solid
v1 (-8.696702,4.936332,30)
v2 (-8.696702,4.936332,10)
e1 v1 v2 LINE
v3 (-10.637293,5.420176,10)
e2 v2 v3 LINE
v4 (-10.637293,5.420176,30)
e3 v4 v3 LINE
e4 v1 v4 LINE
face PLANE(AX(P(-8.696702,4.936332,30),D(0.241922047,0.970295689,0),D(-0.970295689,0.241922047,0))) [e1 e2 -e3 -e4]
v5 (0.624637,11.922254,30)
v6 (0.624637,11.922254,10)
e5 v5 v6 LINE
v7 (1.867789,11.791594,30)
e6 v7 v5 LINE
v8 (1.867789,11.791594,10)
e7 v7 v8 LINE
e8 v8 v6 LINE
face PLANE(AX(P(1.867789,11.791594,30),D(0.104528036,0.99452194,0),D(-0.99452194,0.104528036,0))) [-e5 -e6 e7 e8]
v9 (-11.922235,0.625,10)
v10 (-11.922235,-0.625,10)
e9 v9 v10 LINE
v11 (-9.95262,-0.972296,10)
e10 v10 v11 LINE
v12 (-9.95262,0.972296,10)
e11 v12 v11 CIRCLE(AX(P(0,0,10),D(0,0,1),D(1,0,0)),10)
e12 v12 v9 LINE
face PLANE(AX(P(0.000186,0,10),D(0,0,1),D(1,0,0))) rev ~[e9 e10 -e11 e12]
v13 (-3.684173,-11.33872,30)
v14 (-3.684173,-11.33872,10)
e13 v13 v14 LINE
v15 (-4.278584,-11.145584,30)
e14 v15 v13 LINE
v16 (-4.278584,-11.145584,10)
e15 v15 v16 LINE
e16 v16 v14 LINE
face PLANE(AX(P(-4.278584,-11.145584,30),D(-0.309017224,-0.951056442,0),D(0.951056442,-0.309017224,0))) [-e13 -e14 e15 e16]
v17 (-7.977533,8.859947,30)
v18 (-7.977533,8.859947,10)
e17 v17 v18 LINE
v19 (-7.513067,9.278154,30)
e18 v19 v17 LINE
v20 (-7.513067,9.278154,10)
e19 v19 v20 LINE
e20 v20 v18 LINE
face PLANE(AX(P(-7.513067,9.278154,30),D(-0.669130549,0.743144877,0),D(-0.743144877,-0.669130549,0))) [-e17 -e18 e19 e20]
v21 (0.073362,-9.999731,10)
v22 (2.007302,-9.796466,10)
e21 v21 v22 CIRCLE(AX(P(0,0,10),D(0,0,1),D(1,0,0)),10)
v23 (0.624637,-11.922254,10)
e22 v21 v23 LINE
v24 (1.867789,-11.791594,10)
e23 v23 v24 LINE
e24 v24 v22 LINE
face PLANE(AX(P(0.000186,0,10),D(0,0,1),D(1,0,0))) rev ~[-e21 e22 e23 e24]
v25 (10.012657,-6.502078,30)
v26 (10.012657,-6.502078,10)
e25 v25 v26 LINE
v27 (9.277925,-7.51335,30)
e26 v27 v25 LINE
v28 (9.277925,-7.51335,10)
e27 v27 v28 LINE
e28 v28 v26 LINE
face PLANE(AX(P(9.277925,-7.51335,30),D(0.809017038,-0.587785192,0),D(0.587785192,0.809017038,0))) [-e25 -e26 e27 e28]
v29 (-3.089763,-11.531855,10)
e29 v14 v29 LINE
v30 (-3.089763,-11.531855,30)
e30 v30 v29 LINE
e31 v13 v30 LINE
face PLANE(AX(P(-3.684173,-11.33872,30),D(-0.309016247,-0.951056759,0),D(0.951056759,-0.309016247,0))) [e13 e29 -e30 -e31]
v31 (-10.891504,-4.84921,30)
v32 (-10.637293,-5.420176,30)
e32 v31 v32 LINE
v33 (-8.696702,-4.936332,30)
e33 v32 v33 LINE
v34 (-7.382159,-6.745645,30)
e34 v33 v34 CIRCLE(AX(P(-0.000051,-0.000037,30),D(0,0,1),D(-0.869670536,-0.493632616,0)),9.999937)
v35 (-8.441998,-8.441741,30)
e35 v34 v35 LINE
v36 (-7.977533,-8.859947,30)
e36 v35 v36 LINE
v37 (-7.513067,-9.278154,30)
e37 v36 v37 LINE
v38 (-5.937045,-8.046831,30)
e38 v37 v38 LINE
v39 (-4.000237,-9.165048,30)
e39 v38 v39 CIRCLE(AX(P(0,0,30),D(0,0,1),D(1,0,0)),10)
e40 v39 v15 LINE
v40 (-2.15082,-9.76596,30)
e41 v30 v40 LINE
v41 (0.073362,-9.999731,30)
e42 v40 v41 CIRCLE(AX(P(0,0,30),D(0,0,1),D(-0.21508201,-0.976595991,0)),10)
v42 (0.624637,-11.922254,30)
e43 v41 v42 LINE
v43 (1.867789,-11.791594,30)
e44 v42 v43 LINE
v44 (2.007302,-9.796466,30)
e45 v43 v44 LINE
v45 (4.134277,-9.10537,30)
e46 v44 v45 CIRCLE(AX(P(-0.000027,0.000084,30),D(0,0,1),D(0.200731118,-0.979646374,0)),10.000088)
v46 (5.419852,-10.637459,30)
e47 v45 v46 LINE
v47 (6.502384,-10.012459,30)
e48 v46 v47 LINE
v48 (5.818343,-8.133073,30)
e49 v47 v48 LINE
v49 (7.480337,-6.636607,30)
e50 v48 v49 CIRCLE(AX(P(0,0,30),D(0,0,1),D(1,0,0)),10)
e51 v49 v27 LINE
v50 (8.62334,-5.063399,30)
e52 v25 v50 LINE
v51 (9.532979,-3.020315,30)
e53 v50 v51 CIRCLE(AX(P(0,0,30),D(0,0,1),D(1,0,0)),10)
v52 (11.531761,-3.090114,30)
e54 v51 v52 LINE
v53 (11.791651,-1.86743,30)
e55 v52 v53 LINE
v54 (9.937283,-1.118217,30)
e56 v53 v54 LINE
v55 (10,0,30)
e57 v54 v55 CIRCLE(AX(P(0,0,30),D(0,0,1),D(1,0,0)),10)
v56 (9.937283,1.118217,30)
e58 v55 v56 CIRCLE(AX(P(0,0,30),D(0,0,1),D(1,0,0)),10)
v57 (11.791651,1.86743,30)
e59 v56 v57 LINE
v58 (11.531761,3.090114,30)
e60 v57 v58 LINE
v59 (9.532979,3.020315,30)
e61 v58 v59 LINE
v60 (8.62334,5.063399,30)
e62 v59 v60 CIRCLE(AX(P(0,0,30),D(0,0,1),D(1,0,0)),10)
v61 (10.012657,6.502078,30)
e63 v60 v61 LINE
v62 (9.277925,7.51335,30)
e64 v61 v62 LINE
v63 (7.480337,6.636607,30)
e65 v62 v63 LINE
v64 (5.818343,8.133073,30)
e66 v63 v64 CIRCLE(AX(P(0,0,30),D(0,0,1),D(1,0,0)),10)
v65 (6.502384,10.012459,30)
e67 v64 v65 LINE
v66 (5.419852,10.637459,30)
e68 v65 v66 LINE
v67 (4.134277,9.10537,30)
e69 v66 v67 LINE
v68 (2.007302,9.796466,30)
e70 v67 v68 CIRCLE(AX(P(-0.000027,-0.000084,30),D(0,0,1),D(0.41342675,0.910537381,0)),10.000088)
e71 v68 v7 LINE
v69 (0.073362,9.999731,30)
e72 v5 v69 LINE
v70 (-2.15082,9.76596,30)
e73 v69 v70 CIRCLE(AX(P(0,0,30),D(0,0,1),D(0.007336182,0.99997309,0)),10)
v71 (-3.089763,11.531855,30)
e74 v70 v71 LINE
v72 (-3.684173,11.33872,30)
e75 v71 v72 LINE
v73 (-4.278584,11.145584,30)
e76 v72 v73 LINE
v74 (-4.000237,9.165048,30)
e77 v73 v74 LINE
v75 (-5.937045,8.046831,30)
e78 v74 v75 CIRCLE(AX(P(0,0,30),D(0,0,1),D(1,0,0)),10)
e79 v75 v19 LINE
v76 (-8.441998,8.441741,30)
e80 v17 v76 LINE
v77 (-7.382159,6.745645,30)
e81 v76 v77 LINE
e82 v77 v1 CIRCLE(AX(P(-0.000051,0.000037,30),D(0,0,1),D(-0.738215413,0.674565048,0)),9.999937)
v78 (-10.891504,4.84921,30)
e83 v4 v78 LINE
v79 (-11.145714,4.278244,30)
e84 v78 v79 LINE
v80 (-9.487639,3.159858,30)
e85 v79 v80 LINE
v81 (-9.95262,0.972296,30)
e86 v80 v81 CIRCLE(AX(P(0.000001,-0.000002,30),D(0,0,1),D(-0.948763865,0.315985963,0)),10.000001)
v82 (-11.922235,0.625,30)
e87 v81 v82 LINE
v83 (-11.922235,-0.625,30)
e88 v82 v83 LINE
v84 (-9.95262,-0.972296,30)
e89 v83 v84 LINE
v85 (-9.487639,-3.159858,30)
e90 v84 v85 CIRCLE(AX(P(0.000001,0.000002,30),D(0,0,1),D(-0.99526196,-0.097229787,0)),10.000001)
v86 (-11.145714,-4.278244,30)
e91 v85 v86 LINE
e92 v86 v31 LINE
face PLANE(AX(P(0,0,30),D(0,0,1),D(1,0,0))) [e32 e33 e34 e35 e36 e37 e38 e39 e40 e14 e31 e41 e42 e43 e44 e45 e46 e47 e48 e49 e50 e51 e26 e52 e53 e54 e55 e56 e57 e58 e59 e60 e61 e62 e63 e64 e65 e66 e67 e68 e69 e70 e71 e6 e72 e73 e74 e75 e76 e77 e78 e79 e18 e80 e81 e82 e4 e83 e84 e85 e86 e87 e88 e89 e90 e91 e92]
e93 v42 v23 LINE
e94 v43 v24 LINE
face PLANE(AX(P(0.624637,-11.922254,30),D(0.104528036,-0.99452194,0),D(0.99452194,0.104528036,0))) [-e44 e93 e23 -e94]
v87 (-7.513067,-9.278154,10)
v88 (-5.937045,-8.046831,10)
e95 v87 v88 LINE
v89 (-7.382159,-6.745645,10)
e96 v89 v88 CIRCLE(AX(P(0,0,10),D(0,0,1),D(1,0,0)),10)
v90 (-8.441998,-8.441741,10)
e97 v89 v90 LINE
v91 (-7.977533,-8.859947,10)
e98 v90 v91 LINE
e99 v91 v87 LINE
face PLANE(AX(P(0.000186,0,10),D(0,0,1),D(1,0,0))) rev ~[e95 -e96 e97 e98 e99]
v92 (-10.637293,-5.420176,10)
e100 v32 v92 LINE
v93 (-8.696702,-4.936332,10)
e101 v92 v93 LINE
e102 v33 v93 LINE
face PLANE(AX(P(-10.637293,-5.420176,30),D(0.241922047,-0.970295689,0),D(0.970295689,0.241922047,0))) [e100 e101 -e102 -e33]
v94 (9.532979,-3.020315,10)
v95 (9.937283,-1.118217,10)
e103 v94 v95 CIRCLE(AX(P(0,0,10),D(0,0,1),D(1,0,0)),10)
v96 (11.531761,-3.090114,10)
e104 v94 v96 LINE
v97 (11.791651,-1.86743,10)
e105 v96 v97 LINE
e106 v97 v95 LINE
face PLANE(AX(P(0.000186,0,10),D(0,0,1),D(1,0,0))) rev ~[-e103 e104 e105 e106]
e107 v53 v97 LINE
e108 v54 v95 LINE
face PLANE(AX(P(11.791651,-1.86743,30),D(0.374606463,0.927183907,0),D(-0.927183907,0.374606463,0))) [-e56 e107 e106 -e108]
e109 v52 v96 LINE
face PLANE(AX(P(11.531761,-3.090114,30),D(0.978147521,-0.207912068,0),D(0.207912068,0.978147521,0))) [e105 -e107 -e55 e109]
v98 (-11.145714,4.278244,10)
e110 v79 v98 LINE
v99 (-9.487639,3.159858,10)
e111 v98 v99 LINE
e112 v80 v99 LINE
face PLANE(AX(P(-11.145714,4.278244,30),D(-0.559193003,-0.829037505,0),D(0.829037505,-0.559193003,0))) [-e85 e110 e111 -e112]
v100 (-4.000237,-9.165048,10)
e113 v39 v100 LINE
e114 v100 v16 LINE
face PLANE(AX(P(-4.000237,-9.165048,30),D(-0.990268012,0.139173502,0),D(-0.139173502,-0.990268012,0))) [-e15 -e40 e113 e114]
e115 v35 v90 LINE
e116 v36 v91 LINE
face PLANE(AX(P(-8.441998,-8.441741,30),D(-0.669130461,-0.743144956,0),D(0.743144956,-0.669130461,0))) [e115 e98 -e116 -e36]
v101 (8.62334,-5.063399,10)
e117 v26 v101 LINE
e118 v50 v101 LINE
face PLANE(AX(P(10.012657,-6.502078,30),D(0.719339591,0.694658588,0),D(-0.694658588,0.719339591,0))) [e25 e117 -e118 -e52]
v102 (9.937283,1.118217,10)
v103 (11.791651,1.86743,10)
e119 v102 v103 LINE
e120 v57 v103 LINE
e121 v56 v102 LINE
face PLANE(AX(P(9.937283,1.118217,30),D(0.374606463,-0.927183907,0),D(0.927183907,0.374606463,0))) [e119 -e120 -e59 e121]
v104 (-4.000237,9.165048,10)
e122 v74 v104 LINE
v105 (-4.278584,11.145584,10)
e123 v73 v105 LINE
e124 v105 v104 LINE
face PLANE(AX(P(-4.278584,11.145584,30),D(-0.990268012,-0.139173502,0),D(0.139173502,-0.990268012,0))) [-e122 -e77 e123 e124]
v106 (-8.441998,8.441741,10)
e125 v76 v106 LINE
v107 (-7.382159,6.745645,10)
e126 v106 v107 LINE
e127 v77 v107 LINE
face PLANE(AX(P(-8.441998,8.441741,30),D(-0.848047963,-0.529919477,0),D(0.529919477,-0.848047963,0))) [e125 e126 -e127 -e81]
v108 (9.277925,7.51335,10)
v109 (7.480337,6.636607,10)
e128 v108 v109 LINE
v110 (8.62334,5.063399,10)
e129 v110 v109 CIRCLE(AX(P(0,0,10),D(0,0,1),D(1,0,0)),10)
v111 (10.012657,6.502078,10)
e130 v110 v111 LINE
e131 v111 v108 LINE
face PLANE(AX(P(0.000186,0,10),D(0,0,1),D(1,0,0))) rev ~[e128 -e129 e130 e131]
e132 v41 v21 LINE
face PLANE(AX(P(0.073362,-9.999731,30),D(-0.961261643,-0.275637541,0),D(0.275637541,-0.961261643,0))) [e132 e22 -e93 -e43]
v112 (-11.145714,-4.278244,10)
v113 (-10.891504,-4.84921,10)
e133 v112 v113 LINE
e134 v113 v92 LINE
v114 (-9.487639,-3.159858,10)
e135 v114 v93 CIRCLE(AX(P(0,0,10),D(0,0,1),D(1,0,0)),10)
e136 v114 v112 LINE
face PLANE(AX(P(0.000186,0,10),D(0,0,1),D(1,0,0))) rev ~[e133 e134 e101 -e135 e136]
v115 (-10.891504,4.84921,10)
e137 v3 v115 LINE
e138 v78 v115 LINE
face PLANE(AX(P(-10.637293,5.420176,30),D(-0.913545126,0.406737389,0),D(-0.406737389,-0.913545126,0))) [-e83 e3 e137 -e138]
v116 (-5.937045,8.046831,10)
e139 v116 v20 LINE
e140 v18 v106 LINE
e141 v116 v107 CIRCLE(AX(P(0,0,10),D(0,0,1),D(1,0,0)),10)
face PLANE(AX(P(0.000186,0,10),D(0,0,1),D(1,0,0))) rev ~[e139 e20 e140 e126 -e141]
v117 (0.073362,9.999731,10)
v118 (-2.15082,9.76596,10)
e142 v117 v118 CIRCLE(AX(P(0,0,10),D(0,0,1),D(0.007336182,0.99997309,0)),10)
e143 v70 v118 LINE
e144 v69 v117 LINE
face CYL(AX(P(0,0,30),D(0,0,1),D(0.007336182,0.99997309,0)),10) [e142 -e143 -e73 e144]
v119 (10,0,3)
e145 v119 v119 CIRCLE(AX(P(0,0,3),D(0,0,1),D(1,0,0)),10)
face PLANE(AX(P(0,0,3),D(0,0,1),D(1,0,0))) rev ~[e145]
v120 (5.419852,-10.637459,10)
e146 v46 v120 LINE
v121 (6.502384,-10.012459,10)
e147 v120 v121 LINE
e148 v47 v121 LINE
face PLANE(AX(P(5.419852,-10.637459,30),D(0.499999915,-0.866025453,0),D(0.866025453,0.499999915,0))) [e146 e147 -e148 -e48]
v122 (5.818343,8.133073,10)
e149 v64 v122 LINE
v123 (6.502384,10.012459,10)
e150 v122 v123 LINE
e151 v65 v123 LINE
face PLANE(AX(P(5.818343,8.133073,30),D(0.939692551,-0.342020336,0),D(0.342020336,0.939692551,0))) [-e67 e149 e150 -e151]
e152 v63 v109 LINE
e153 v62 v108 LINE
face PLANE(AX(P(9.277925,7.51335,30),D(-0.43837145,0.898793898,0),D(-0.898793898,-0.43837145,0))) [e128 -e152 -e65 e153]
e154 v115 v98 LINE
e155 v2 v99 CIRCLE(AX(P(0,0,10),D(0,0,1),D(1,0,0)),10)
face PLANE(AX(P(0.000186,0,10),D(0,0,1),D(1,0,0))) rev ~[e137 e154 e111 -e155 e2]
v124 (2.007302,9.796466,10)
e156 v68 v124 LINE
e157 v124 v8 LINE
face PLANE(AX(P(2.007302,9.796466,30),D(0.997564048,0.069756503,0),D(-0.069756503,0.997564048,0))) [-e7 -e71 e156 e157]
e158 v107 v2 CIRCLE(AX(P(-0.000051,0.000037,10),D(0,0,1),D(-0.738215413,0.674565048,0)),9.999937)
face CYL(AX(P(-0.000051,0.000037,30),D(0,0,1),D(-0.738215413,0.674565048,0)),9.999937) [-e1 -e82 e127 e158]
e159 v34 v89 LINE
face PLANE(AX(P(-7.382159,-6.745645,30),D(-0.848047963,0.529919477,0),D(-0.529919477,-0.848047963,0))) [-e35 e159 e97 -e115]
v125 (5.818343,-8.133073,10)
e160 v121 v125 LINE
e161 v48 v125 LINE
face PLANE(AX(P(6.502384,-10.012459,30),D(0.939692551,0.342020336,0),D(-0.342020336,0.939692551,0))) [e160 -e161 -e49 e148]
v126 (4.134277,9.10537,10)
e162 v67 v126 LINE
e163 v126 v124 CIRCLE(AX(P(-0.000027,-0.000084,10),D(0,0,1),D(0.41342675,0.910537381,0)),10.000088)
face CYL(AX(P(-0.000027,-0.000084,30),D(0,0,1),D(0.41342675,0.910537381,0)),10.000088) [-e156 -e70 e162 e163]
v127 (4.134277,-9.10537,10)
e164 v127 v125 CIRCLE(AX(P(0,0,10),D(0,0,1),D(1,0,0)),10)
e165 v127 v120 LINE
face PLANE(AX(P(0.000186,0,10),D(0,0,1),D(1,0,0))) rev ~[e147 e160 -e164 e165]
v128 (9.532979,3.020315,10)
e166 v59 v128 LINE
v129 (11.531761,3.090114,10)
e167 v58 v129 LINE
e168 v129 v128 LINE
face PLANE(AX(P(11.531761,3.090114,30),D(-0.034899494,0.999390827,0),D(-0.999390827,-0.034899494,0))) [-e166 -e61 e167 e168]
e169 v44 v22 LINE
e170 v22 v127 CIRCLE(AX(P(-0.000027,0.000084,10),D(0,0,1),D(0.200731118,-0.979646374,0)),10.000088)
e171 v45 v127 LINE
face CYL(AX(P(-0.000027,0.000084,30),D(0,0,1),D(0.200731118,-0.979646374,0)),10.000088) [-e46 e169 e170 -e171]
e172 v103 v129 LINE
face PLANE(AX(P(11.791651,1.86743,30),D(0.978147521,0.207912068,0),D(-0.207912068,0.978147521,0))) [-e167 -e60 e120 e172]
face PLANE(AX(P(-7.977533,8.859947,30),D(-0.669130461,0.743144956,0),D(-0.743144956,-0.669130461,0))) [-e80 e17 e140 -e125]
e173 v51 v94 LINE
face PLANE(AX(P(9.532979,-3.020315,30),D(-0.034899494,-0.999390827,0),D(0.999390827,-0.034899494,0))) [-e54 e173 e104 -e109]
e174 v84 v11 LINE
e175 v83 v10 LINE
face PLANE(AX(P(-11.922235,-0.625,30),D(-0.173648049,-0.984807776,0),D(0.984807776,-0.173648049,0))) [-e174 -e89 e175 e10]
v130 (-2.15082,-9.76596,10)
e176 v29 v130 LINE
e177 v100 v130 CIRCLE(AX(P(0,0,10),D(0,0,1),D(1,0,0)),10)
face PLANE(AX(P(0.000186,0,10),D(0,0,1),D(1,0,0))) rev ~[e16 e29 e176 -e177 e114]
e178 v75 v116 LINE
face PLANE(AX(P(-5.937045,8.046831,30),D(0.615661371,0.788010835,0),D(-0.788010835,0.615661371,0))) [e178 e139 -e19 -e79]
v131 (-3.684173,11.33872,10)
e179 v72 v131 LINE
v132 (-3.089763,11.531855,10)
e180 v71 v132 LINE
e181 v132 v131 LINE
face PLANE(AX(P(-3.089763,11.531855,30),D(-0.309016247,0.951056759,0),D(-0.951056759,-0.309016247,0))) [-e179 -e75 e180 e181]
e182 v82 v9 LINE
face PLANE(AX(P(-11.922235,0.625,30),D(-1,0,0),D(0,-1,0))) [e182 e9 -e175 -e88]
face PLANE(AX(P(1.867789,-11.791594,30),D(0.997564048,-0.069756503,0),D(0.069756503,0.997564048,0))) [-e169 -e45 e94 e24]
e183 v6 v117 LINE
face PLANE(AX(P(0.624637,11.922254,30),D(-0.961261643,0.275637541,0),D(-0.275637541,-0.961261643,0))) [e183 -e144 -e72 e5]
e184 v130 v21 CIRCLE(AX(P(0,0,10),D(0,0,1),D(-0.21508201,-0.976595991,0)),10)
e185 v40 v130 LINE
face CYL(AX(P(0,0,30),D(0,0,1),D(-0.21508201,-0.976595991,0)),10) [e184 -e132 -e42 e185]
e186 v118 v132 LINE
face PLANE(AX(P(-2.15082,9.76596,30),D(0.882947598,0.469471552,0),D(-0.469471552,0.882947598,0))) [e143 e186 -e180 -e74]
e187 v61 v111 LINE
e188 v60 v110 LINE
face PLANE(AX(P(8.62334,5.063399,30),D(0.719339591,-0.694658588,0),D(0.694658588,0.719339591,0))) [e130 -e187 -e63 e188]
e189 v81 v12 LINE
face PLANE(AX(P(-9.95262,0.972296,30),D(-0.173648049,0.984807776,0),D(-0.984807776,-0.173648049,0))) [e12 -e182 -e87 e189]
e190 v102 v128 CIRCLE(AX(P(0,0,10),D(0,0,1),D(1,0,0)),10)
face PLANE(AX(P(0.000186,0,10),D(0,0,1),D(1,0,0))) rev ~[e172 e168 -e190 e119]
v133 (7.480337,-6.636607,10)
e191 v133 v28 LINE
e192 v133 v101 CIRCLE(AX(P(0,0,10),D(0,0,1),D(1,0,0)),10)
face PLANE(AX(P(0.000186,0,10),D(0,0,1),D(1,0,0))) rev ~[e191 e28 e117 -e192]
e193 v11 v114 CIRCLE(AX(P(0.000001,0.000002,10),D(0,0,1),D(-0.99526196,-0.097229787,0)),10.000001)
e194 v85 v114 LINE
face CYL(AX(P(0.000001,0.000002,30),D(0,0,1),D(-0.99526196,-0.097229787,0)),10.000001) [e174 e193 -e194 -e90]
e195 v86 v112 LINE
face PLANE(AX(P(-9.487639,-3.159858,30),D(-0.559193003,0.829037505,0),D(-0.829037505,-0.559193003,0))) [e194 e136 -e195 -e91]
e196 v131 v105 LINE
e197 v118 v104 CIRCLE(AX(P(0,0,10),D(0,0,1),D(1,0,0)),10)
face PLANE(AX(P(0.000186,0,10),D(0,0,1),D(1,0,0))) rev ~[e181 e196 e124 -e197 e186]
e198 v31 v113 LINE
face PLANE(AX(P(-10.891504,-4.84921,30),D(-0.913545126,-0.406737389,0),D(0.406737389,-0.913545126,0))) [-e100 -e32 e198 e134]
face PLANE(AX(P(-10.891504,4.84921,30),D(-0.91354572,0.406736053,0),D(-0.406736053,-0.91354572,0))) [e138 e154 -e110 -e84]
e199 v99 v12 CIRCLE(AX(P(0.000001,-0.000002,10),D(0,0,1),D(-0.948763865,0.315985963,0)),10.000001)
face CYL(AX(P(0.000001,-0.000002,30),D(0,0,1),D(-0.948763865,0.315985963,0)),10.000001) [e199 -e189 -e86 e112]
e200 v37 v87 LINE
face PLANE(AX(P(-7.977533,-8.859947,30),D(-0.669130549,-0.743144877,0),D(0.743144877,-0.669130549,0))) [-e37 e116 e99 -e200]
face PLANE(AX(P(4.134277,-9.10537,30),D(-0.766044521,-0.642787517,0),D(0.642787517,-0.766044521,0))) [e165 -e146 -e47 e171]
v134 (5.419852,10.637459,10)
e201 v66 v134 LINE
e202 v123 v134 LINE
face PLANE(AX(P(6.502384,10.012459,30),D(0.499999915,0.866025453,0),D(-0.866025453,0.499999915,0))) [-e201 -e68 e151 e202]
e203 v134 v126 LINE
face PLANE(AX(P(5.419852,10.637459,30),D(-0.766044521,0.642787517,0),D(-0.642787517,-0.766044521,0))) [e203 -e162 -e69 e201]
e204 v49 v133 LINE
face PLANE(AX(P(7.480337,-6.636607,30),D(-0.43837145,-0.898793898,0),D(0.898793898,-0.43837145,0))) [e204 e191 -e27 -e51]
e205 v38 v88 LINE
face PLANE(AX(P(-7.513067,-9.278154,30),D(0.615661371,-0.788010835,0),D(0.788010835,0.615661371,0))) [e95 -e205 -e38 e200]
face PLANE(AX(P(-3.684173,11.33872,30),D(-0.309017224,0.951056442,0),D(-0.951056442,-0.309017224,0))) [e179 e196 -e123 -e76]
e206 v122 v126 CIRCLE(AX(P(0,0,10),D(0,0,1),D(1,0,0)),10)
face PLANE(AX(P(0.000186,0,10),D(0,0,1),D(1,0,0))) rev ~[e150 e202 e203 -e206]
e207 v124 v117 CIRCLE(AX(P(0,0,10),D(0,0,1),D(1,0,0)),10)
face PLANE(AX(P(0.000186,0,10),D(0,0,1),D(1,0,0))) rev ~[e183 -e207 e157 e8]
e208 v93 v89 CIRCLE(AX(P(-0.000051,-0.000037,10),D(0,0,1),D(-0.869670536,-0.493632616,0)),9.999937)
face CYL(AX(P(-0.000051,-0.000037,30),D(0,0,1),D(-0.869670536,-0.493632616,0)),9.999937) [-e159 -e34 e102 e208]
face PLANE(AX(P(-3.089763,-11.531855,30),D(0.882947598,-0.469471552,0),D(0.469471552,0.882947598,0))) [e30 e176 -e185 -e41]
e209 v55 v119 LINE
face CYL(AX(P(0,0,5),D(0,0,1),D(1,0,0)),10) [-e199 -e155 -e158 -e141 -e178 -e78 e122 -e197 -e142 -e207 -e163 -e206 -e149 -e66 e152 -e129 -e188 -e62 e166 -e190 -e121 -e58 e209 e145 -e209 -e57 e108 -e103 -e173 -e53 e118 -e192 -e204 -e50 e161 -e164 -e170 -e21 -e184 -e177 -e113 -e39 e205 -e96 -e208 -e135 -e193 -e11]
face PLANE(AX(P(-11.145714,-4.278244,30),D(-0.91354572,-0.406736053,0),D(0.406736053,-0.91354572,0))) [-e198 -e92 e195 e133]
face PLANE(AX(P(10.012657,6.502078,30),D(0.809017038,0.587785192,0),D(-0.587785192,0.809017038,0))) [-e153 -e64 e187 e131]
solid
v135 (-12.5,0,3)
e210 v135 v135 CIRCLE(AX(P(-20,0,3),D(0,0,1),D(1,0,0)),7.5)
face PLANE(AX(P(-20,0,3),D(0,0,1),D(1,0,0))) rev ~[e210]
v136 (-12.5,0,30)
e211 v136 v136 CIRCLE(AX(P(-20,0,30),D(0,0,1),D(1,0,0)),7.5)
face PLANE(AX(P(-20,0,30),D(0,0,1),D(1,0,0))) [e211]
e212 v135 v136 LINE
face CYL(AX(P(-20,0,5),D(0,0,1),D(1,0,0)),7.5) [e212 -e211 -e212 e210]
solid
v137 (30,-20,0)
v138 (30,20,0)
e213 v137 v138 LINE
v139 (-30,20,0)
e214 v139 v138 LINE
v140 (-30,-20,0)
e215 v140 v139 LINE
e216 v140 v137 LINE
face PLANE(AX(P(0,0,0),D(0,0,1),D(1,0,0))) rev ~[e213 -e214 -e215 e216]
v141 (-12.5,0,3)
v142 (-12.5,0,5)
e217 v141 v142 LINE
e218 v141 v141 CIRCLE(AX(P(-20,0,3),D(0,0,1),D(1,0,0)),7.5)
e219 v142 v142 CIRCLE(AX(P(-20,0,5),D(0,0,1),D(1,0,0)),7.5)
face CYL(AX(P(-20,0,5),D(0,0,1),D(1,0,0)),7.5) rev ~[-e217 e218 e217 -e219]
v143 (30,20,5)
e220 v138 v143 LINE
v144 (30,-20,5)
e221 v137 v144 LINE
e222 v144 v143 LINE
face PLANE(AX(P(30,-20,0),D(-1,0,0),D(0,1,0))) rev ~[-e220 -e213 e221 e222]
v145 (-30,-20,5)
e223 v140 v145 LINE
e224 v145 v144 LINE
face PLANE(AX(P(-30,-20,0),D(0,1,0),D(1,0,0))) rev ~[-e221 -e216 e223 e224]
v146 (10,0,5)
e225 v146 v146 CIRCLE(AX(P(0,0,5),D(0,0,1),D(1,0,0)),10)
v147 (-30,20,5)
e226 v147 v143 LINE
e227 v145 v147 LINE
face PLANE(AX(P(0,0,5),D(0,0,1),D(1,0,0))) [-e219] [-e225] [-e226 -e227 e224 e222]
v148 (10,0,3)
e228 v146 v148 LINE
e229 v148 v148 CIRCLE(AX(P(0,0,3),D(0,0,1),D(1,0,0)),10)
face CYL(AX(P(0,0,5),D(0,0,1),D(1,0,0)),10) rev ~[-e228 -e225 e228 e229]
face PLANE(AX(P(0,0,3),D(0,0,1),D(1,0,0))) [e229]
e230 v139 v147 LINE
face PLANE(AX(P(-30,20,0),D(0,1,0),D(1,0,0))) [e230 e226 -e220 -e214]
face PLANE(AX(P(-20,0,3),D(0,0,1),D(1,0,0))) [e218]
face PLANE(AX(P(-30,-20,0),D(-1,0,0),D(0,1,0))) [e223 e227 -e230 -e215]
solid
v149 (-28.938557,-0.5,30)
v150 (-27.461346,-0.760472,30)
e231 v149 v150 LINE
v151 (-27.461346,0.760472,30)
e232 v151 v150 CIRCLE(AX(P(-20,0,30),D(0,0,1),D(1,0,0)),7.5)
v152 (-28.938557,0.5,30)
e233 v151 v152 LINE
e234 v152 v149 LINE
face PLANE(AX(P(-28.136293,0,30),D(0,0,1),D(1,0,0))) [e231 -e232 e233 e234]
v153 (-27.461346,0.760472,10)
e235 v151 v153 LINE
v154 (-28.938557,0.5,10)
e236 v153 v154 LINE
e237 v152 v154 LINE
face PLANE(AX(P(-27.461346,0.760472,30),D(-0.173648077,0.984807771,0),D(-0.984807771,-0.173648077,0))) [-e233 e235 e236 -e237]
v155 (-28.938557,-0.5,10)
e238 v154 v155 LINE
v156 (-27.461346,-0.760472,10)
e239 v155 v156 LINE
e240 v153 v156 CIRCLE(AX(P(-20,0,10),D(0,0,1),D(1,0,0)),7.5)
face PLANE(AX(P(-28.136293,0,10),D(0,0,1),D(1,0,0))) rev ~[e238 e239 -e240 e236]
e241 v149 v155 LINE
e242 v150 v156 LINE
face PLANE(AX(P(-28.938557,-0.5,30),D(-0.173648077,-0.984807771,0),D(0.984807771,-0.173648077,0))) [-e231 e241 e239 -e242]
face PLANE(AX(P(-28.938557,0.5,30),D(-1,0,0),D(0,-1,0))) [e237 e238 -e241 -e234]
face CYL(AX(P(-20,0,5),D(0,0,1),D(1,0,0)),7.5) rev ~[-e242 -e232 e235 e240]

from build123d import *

# Parameters (mm, degrees)
F0_W          = 60
F0_H          = 40
F1_DEPTH      = 5
F2_R          = 7.5
F3_DEPTH      = 25
F3_DEPTH_BACK = 2
F5_R          = 10
F6_DEPTH      = 25
F6_DEPTH_BACK = 2
F9_DEPTH      = 20
F12_DEPTH     = 20


with BuildPart() as f1:
    # F0 (on Top) → F1 (new body)
    with BuildSketch(Plane.XY):
        Rectangle(F0_W, F0_H)
    extrude(amount=F1_DEPTH)


with BuildPart() as f3:
    # F2 (on face) → F3 (new body, two sides)
    with BuildSketch(Plane.XY.offset(5)) as f3_sk:
        with Locations((-20, 0)):
            Circle(F2_R)
    extrude(amount=F3_DEPTH)
    extrude(f3_sk.sketch, amount=-F3_DEPTH_BACK)


with BuildPart() as f1_1:
    add(f1.part)

    # F4: cut F3
    add(f3.part, mode=Mode.SUBTRACT)


with BuildPart() as f6:
    # F5 (on face) → F6 (new body, two sides)
    with BuildSketch(Plane.XY.offset(5)) as f6_sk:
        Circle(F5_R)
    extrude(amount=F6_DEPTH)
    extrude(f6_sk.sketch, amount=-F6_DEPTH_BACK)

    # F11 (on face) → F12 (join)
    with BuildSketch(Plane.XY.offset(30)):
        with BuildLine():
            ThreePointArc((9.937283, -1.118217), (9.984308, -0.559987), (10, 0))
            ThreePointArc((10, 0), (9.984308, 0.559987), (9.937283, 1.118217))
            ThreePointArc((9.937283, 1.118217), (9.781476, 2.079117), (9.532979, 3.020315))
            ThreePointArc((9.532979, 3.020315), (9.135455, 4.067366), (8.62334, 5.063399))
            ThreePointArc((8.62334, 5.063399), (8.09017, 5.877853), (7.480337, 6.636607))
            ThreePointArc((7.480337, 6.636607), (6.691306, 7.431448), (5.818343, 8.133073))
            ThreePointArc((5.818343, 8.133073), (5, 8.660254), (4.134277, 9.10537))
            ThreePointArc((4.134277, 9.10537), (3.09017, 9.510565), (2.007302, 9.796466))
            ThreePointArc((2.007302, 9.796466), (1.045285, 9.945219), (0.073362, 9.999731))
            ThreePointArc((0.073362, 9.999731), (-1.045285, 9.945219), (-2.15082, 9.76596))
            ThreePointArc((-2.15082, 9.76596), (-3.09017, 9.510565), (-4.000237, 9.165048))
            ThreePointArc((-4.000237, 9.165048), (-5, 8.660254), (-5.937045, 8.046831))
            ThreePointArc((-5.937045, 8.046831), (-6.691306, 7.431448), (-7.382159, 6.745645))
            ThreePointArc((-7.382159, 6.745645), (-8.09017, 5.877853), (-8.696702, 4.936332))
            ThreePointArc((-8.696702, 4.936332), (-9.135455, 4.067366), (-9.487639, 3.159858))
            ThreePointArc((-9.487639, 3.159858), (-9.781476, 2.079117), (-9.95262, 0.972296))
            ThreePointArc((-9.95262, 0.972296), (-10, 0), (-9.95262, -0.972296))
            ThreePointArc((-9.95262, -0.972296), (-9.781476, -2.079117), (-9.487639, -3.159858))
            ThreePointArc((-9.487639, -3.159858), (-9.135455, -4.067366), (-8.696702, -4.936332))
            ThreePointArc((-8.696702, -4.936332), (-8.09017, -5.877853), (-7.382159, -6.745645))
            ThreePointArc((-7.382159, -6.745645), (-6.691306, -7.431448), (-5.937045, -8.046831))
            ThreePointArc((-5.937045, -8.046831), (-5, -8.660254), (-4.000237, -9.165048))
            ThreePointArc((-4.000237, -9.165048), (-3.09017, -9.510565), (-2.15082, -9.76596))
            ThreePointArc((-2.15082, -9.76596), (-1.045285, -9.945219), (0.073362, -9.999731))
            ThreePointArc((0.073362, -9.999731), (1.045285, -9.945219), (2.007302, -9.796466))
            ThreePointArc((2.007302, -9.796466), (3.09017, -9.510565), (4.134277, -9.10537))
            ThreePointArc((4.134277, -9.10537), (5, -8.660254), (5.818343, -8.133073))
            ThreePointArc((5.818343, -8.133073), (6.691306, -7.431448), (7.480337, -6.636607))
            ThreePointArc((7.480337, -6.636607), (8.09017, -5.877853), (8.62334, -5.063399))
            ThreePointArc((8.62334, -5.063399), (9.135455, -4.067366), (9.532979, -3.020315))
            ThreePointArc((9.532979, -3.020315), (9.781476, -2.079117), (9.937283, -1.118217))
        make_face()
        with BuildLine():
            ThreePointArc((9.532979, 3.020315), (9.781476, 2.079117), (9.937283, 1.118217))
            Line((9.937283, 1.118217), (11.791651, 1.86743))
            Line((11.791651, 1.86743), (11.661706, 2.478772))
            Line((11.661706, 2.478772), (11.531761, 3.090114))
            Line((11.531761, 3.090114), (9.532979, 3.020315))
        make_face()
        with BuildLine():
            Line((11.791651, -1.86743), (9.937283, -1.118217))
            ThreePointArc((9.937283, -1.118217), (9.781476, -2.079117), (9.532979, -3.020315))
            Line((9.532979, -3.020315), (11.531761, -3.090114))
            Line((11.531761, -3.090114), (11.661706, -2.478772))
            Line((11.661706, -2.478772), (11.791651, -1.86743))
        make_face()
        with BuildLine():
            ThreePointArc((7.480337, 6.636607), (8.09017, 5.877853), (8.62334, 5.063399))
            Line((8.62334, 5.063399), (10.012657, 6.502078))
            Line((10.012657, 6.502078), (9.645291, 7.007714))
            Line((9.645291, 7.007714), (9.277925, 7.51335))
            Line((9.277925, 7.51335), (7.480337, 6.636607))
        make_face()
        with BuildLine():
            Line((10.012657, -6.502078), (8.62334, -5.063399))
            ThreePointArc((8.62334, -5.063399), (8.09017, -5.877853), (7.480337, -6.636607))
            Line((7.480337, -6.636607), (9.277925, -7.51335))
            Line((9.277925, -7.51335), (9.645291, -7.007714))
            Line((9.645291, -7.007714), (10.012657, -6.502078))
        make_face()
        with BuildLine():
            ThreePointArc((4.134277, 9.10537), (5, 8.660254), (5.818343, 8.133073))
            Line((5.818343, 8.133073), (6.502384, 10.012459))
            Line((6.502384, 10.012459), (5.961118, 10.324959))
            Line((5.961118, 10.324959), (5.419852, 10.637459))
            Line((5.419852, 10.637459), (4.134277, 9.10537))
        make_face()
        with BuildLine():
            Line((6.502384, -10.012459), (5.818343, -8.133073))
            ThreePointArc((5.818343, -8.133073), (5, -8.660254), (4.134277, -9.10537))
            Line((4.134277, -9.10537), (5.419852, -10.637459))
            Line((5.419852, -10.637459), (5.961118, -10.324959))
            Line((5.961118, -10.324959), (6.502384, -10.012459))
        make_face()
        with BuildLine():
            ThreePointArc((0.073362, 9.999731), (1.045285, 9.945219), (2.007302, 9.796466))
            Line((2.007302, 9.796466), (1.867789, 11.791594))
            Line((1.867789, 11.791594), (1.246213, 11.856924))
            Line((1.246213, 11.856924), (0.624637, 11.922254))
            Line((0.624637, 11.922254), (0.073362, 9.999731))
        make_face()
        with BuildLine():
            Line((1.867789, -11.791594), (2.007302, -9.796466))
            ThreePointArc((2.007302, -9.796466), (1.045285, -9.945219), (0.073362, -9.999731))
            Line((0.073362, -9.999731), (0.624637, -11.922254))
            Line((0.624637, -11.922254), (1.246213, -11.856924))
            Line((1.246213, -11.856924), (1.867789, -11.791594))
        make_face()
        with BuildLine():
            ThreePointArc((-4.000237, 9.165048), (-3.09017, 9.510565), (-2.15082, 9.76596))
            Line((-2.15082, 9.76596), (-3.089763, 11.531855))
            Line((-3.089763, 11.531855), (-3.684173, 11.33872))
            Line((-3.684173, 11.33872), (-4.278584, 11.145584))
            Line((-4.278584, 11.145584), (-4.000237, 9.165048))
        make_face()
        with BuildLine():
            Line((-3.089763, -11.531855), (-2.15082, -9.76596))
            ThreePointArc((-2.15082, -9.76596), (-3.09017, -9.510565), (-4.000237, -9.165048))
            Line((-4.000237, -9.165048), (-4.278584, -11.145584))
            Line((-4.278584, -11.145584), (-3.684173, -11.33872))
            Line((-3.684173, -11.33872), (-3.089763, -11.531855))
        make_face()
        with BuildLine():
            ThreePointArc((-7.382159, 6.745645), (-6.691306, 7.431448), (-5.937045, 8.046831))
            Line((-5.937045, 8.046831), (-7.513067, 9.278154))
            Line((-7.513067, 9.278154), (-7.977533, 8.859947))
            Line((-7.977533, 8.859947), (-8.441998, 8.441741))
            Line((-8.441998, 8.441741), (-7.382159, 6.745645))
        make_face()
        with BuildLine():
            Line((-7.513067, -9.278154), (-5.937045, -8.046831))
            ThreePointArc((-5.937045, -8.046831), (-6.691306, -7.431448), (-7.382159, -6.745645))
            Line((-7.382159, -6.745645), (-8.441998, -8.441741))
            Line((-8.441998, -8.441741), (-7.977533, -8.859947))
            Line((-7.977533, -8.859947), (-7.513067, -9.278154))
        make_face()
        with BuildLine():
            ThreePointArc((-9.487639, 3.159858), (-9.135455, 4.067366), (-8.696702, 4.936332))
            Line((-8.696702, 4.936332), (-10.637293, 5.420176))
            Line((-10.637293, 5.420176), (-10.891504, 4.84921))
            Line((-10.891504, 4.84921), (-11.145714, 4.278244))
            Line((-11.145714, 4.278244), (-9.487639, 3.159858))
        make_face()
        with BuildLine():
            Line((-10.637293, -5.420176), (-8.696702, -4.936332))
            ThreePointArc((-8.696702, -4.936332), (-9.135455, -4.067366), (-9.487639, -3.159858))
            Line((-9.487639, -3.159858), (-11.145714, -4.278244))
            Line((-11.145714, -4.278244), (-10.891504, -4.84921))
            Line((-10.891504, -4.84921), (-10.637293, -5.420176))
        make_face()
        with BuildLine():
            ThreePointArc((-9.95262, -0.972296), (-10, 0), (-9.95262, 0.972296))
            Line((-9.95262, 0.972296), (-11.922235, 0.625))
            Line((-11.922235, 0.625), (-11.922235, 0))
            Line((-11.922235, 0), (-11.922235, -0.625))
            Line((-11.922235, -0.625), (-9.95262, -0.972296))
        make_face()
    extrude(amount=-F12_DEPTH)


with BuildPart() as f1_2:
    add(f1_1.part)

    # F7: cut F6
    add(f6.part, mode=Mode.SUBTRACT)


with BuildPart() as f9:
    # F8 (on face) → F9 (new body)
    with BuildSketch(Plane.XY.offset(30)):
        with BuildLine():
            ThreePointArc((-27.461346, -0.760472), (-27.5, 0), (-27.461346, 0.760472))
            Line((-27.461346, 0.760472), (-28.938557, 0.5))
            Line((-28.938557, 0.5), (-28.938557, 0))
            Line((-28.938557, 0), (-28.938557, -0.5))
            Line((-28.938557, -0.5), (-27.461346, -0.760472))
        make_face()
        with BuildLine():
            ThreePointArc((-12.5, 0), (-19.619273, 7.49033), (-27.461346, 0.760472))
            ThreePointArc((-27.461346, 0.760472), (-27.5, 0), (-27.461346, -0.760472))
            ThreePointArc((-27.461346, -0.760472), (-19.619273, -7.49033), (-12.5, 0))
        make_face()
    extrude(amount=-F9_DEPTH)

    # F10: cut F3
    add(f3.part, mode=Mode.SUBTRACT)


solid = Compound([f3.part, f6.part, f1_2.part, f9.part])
